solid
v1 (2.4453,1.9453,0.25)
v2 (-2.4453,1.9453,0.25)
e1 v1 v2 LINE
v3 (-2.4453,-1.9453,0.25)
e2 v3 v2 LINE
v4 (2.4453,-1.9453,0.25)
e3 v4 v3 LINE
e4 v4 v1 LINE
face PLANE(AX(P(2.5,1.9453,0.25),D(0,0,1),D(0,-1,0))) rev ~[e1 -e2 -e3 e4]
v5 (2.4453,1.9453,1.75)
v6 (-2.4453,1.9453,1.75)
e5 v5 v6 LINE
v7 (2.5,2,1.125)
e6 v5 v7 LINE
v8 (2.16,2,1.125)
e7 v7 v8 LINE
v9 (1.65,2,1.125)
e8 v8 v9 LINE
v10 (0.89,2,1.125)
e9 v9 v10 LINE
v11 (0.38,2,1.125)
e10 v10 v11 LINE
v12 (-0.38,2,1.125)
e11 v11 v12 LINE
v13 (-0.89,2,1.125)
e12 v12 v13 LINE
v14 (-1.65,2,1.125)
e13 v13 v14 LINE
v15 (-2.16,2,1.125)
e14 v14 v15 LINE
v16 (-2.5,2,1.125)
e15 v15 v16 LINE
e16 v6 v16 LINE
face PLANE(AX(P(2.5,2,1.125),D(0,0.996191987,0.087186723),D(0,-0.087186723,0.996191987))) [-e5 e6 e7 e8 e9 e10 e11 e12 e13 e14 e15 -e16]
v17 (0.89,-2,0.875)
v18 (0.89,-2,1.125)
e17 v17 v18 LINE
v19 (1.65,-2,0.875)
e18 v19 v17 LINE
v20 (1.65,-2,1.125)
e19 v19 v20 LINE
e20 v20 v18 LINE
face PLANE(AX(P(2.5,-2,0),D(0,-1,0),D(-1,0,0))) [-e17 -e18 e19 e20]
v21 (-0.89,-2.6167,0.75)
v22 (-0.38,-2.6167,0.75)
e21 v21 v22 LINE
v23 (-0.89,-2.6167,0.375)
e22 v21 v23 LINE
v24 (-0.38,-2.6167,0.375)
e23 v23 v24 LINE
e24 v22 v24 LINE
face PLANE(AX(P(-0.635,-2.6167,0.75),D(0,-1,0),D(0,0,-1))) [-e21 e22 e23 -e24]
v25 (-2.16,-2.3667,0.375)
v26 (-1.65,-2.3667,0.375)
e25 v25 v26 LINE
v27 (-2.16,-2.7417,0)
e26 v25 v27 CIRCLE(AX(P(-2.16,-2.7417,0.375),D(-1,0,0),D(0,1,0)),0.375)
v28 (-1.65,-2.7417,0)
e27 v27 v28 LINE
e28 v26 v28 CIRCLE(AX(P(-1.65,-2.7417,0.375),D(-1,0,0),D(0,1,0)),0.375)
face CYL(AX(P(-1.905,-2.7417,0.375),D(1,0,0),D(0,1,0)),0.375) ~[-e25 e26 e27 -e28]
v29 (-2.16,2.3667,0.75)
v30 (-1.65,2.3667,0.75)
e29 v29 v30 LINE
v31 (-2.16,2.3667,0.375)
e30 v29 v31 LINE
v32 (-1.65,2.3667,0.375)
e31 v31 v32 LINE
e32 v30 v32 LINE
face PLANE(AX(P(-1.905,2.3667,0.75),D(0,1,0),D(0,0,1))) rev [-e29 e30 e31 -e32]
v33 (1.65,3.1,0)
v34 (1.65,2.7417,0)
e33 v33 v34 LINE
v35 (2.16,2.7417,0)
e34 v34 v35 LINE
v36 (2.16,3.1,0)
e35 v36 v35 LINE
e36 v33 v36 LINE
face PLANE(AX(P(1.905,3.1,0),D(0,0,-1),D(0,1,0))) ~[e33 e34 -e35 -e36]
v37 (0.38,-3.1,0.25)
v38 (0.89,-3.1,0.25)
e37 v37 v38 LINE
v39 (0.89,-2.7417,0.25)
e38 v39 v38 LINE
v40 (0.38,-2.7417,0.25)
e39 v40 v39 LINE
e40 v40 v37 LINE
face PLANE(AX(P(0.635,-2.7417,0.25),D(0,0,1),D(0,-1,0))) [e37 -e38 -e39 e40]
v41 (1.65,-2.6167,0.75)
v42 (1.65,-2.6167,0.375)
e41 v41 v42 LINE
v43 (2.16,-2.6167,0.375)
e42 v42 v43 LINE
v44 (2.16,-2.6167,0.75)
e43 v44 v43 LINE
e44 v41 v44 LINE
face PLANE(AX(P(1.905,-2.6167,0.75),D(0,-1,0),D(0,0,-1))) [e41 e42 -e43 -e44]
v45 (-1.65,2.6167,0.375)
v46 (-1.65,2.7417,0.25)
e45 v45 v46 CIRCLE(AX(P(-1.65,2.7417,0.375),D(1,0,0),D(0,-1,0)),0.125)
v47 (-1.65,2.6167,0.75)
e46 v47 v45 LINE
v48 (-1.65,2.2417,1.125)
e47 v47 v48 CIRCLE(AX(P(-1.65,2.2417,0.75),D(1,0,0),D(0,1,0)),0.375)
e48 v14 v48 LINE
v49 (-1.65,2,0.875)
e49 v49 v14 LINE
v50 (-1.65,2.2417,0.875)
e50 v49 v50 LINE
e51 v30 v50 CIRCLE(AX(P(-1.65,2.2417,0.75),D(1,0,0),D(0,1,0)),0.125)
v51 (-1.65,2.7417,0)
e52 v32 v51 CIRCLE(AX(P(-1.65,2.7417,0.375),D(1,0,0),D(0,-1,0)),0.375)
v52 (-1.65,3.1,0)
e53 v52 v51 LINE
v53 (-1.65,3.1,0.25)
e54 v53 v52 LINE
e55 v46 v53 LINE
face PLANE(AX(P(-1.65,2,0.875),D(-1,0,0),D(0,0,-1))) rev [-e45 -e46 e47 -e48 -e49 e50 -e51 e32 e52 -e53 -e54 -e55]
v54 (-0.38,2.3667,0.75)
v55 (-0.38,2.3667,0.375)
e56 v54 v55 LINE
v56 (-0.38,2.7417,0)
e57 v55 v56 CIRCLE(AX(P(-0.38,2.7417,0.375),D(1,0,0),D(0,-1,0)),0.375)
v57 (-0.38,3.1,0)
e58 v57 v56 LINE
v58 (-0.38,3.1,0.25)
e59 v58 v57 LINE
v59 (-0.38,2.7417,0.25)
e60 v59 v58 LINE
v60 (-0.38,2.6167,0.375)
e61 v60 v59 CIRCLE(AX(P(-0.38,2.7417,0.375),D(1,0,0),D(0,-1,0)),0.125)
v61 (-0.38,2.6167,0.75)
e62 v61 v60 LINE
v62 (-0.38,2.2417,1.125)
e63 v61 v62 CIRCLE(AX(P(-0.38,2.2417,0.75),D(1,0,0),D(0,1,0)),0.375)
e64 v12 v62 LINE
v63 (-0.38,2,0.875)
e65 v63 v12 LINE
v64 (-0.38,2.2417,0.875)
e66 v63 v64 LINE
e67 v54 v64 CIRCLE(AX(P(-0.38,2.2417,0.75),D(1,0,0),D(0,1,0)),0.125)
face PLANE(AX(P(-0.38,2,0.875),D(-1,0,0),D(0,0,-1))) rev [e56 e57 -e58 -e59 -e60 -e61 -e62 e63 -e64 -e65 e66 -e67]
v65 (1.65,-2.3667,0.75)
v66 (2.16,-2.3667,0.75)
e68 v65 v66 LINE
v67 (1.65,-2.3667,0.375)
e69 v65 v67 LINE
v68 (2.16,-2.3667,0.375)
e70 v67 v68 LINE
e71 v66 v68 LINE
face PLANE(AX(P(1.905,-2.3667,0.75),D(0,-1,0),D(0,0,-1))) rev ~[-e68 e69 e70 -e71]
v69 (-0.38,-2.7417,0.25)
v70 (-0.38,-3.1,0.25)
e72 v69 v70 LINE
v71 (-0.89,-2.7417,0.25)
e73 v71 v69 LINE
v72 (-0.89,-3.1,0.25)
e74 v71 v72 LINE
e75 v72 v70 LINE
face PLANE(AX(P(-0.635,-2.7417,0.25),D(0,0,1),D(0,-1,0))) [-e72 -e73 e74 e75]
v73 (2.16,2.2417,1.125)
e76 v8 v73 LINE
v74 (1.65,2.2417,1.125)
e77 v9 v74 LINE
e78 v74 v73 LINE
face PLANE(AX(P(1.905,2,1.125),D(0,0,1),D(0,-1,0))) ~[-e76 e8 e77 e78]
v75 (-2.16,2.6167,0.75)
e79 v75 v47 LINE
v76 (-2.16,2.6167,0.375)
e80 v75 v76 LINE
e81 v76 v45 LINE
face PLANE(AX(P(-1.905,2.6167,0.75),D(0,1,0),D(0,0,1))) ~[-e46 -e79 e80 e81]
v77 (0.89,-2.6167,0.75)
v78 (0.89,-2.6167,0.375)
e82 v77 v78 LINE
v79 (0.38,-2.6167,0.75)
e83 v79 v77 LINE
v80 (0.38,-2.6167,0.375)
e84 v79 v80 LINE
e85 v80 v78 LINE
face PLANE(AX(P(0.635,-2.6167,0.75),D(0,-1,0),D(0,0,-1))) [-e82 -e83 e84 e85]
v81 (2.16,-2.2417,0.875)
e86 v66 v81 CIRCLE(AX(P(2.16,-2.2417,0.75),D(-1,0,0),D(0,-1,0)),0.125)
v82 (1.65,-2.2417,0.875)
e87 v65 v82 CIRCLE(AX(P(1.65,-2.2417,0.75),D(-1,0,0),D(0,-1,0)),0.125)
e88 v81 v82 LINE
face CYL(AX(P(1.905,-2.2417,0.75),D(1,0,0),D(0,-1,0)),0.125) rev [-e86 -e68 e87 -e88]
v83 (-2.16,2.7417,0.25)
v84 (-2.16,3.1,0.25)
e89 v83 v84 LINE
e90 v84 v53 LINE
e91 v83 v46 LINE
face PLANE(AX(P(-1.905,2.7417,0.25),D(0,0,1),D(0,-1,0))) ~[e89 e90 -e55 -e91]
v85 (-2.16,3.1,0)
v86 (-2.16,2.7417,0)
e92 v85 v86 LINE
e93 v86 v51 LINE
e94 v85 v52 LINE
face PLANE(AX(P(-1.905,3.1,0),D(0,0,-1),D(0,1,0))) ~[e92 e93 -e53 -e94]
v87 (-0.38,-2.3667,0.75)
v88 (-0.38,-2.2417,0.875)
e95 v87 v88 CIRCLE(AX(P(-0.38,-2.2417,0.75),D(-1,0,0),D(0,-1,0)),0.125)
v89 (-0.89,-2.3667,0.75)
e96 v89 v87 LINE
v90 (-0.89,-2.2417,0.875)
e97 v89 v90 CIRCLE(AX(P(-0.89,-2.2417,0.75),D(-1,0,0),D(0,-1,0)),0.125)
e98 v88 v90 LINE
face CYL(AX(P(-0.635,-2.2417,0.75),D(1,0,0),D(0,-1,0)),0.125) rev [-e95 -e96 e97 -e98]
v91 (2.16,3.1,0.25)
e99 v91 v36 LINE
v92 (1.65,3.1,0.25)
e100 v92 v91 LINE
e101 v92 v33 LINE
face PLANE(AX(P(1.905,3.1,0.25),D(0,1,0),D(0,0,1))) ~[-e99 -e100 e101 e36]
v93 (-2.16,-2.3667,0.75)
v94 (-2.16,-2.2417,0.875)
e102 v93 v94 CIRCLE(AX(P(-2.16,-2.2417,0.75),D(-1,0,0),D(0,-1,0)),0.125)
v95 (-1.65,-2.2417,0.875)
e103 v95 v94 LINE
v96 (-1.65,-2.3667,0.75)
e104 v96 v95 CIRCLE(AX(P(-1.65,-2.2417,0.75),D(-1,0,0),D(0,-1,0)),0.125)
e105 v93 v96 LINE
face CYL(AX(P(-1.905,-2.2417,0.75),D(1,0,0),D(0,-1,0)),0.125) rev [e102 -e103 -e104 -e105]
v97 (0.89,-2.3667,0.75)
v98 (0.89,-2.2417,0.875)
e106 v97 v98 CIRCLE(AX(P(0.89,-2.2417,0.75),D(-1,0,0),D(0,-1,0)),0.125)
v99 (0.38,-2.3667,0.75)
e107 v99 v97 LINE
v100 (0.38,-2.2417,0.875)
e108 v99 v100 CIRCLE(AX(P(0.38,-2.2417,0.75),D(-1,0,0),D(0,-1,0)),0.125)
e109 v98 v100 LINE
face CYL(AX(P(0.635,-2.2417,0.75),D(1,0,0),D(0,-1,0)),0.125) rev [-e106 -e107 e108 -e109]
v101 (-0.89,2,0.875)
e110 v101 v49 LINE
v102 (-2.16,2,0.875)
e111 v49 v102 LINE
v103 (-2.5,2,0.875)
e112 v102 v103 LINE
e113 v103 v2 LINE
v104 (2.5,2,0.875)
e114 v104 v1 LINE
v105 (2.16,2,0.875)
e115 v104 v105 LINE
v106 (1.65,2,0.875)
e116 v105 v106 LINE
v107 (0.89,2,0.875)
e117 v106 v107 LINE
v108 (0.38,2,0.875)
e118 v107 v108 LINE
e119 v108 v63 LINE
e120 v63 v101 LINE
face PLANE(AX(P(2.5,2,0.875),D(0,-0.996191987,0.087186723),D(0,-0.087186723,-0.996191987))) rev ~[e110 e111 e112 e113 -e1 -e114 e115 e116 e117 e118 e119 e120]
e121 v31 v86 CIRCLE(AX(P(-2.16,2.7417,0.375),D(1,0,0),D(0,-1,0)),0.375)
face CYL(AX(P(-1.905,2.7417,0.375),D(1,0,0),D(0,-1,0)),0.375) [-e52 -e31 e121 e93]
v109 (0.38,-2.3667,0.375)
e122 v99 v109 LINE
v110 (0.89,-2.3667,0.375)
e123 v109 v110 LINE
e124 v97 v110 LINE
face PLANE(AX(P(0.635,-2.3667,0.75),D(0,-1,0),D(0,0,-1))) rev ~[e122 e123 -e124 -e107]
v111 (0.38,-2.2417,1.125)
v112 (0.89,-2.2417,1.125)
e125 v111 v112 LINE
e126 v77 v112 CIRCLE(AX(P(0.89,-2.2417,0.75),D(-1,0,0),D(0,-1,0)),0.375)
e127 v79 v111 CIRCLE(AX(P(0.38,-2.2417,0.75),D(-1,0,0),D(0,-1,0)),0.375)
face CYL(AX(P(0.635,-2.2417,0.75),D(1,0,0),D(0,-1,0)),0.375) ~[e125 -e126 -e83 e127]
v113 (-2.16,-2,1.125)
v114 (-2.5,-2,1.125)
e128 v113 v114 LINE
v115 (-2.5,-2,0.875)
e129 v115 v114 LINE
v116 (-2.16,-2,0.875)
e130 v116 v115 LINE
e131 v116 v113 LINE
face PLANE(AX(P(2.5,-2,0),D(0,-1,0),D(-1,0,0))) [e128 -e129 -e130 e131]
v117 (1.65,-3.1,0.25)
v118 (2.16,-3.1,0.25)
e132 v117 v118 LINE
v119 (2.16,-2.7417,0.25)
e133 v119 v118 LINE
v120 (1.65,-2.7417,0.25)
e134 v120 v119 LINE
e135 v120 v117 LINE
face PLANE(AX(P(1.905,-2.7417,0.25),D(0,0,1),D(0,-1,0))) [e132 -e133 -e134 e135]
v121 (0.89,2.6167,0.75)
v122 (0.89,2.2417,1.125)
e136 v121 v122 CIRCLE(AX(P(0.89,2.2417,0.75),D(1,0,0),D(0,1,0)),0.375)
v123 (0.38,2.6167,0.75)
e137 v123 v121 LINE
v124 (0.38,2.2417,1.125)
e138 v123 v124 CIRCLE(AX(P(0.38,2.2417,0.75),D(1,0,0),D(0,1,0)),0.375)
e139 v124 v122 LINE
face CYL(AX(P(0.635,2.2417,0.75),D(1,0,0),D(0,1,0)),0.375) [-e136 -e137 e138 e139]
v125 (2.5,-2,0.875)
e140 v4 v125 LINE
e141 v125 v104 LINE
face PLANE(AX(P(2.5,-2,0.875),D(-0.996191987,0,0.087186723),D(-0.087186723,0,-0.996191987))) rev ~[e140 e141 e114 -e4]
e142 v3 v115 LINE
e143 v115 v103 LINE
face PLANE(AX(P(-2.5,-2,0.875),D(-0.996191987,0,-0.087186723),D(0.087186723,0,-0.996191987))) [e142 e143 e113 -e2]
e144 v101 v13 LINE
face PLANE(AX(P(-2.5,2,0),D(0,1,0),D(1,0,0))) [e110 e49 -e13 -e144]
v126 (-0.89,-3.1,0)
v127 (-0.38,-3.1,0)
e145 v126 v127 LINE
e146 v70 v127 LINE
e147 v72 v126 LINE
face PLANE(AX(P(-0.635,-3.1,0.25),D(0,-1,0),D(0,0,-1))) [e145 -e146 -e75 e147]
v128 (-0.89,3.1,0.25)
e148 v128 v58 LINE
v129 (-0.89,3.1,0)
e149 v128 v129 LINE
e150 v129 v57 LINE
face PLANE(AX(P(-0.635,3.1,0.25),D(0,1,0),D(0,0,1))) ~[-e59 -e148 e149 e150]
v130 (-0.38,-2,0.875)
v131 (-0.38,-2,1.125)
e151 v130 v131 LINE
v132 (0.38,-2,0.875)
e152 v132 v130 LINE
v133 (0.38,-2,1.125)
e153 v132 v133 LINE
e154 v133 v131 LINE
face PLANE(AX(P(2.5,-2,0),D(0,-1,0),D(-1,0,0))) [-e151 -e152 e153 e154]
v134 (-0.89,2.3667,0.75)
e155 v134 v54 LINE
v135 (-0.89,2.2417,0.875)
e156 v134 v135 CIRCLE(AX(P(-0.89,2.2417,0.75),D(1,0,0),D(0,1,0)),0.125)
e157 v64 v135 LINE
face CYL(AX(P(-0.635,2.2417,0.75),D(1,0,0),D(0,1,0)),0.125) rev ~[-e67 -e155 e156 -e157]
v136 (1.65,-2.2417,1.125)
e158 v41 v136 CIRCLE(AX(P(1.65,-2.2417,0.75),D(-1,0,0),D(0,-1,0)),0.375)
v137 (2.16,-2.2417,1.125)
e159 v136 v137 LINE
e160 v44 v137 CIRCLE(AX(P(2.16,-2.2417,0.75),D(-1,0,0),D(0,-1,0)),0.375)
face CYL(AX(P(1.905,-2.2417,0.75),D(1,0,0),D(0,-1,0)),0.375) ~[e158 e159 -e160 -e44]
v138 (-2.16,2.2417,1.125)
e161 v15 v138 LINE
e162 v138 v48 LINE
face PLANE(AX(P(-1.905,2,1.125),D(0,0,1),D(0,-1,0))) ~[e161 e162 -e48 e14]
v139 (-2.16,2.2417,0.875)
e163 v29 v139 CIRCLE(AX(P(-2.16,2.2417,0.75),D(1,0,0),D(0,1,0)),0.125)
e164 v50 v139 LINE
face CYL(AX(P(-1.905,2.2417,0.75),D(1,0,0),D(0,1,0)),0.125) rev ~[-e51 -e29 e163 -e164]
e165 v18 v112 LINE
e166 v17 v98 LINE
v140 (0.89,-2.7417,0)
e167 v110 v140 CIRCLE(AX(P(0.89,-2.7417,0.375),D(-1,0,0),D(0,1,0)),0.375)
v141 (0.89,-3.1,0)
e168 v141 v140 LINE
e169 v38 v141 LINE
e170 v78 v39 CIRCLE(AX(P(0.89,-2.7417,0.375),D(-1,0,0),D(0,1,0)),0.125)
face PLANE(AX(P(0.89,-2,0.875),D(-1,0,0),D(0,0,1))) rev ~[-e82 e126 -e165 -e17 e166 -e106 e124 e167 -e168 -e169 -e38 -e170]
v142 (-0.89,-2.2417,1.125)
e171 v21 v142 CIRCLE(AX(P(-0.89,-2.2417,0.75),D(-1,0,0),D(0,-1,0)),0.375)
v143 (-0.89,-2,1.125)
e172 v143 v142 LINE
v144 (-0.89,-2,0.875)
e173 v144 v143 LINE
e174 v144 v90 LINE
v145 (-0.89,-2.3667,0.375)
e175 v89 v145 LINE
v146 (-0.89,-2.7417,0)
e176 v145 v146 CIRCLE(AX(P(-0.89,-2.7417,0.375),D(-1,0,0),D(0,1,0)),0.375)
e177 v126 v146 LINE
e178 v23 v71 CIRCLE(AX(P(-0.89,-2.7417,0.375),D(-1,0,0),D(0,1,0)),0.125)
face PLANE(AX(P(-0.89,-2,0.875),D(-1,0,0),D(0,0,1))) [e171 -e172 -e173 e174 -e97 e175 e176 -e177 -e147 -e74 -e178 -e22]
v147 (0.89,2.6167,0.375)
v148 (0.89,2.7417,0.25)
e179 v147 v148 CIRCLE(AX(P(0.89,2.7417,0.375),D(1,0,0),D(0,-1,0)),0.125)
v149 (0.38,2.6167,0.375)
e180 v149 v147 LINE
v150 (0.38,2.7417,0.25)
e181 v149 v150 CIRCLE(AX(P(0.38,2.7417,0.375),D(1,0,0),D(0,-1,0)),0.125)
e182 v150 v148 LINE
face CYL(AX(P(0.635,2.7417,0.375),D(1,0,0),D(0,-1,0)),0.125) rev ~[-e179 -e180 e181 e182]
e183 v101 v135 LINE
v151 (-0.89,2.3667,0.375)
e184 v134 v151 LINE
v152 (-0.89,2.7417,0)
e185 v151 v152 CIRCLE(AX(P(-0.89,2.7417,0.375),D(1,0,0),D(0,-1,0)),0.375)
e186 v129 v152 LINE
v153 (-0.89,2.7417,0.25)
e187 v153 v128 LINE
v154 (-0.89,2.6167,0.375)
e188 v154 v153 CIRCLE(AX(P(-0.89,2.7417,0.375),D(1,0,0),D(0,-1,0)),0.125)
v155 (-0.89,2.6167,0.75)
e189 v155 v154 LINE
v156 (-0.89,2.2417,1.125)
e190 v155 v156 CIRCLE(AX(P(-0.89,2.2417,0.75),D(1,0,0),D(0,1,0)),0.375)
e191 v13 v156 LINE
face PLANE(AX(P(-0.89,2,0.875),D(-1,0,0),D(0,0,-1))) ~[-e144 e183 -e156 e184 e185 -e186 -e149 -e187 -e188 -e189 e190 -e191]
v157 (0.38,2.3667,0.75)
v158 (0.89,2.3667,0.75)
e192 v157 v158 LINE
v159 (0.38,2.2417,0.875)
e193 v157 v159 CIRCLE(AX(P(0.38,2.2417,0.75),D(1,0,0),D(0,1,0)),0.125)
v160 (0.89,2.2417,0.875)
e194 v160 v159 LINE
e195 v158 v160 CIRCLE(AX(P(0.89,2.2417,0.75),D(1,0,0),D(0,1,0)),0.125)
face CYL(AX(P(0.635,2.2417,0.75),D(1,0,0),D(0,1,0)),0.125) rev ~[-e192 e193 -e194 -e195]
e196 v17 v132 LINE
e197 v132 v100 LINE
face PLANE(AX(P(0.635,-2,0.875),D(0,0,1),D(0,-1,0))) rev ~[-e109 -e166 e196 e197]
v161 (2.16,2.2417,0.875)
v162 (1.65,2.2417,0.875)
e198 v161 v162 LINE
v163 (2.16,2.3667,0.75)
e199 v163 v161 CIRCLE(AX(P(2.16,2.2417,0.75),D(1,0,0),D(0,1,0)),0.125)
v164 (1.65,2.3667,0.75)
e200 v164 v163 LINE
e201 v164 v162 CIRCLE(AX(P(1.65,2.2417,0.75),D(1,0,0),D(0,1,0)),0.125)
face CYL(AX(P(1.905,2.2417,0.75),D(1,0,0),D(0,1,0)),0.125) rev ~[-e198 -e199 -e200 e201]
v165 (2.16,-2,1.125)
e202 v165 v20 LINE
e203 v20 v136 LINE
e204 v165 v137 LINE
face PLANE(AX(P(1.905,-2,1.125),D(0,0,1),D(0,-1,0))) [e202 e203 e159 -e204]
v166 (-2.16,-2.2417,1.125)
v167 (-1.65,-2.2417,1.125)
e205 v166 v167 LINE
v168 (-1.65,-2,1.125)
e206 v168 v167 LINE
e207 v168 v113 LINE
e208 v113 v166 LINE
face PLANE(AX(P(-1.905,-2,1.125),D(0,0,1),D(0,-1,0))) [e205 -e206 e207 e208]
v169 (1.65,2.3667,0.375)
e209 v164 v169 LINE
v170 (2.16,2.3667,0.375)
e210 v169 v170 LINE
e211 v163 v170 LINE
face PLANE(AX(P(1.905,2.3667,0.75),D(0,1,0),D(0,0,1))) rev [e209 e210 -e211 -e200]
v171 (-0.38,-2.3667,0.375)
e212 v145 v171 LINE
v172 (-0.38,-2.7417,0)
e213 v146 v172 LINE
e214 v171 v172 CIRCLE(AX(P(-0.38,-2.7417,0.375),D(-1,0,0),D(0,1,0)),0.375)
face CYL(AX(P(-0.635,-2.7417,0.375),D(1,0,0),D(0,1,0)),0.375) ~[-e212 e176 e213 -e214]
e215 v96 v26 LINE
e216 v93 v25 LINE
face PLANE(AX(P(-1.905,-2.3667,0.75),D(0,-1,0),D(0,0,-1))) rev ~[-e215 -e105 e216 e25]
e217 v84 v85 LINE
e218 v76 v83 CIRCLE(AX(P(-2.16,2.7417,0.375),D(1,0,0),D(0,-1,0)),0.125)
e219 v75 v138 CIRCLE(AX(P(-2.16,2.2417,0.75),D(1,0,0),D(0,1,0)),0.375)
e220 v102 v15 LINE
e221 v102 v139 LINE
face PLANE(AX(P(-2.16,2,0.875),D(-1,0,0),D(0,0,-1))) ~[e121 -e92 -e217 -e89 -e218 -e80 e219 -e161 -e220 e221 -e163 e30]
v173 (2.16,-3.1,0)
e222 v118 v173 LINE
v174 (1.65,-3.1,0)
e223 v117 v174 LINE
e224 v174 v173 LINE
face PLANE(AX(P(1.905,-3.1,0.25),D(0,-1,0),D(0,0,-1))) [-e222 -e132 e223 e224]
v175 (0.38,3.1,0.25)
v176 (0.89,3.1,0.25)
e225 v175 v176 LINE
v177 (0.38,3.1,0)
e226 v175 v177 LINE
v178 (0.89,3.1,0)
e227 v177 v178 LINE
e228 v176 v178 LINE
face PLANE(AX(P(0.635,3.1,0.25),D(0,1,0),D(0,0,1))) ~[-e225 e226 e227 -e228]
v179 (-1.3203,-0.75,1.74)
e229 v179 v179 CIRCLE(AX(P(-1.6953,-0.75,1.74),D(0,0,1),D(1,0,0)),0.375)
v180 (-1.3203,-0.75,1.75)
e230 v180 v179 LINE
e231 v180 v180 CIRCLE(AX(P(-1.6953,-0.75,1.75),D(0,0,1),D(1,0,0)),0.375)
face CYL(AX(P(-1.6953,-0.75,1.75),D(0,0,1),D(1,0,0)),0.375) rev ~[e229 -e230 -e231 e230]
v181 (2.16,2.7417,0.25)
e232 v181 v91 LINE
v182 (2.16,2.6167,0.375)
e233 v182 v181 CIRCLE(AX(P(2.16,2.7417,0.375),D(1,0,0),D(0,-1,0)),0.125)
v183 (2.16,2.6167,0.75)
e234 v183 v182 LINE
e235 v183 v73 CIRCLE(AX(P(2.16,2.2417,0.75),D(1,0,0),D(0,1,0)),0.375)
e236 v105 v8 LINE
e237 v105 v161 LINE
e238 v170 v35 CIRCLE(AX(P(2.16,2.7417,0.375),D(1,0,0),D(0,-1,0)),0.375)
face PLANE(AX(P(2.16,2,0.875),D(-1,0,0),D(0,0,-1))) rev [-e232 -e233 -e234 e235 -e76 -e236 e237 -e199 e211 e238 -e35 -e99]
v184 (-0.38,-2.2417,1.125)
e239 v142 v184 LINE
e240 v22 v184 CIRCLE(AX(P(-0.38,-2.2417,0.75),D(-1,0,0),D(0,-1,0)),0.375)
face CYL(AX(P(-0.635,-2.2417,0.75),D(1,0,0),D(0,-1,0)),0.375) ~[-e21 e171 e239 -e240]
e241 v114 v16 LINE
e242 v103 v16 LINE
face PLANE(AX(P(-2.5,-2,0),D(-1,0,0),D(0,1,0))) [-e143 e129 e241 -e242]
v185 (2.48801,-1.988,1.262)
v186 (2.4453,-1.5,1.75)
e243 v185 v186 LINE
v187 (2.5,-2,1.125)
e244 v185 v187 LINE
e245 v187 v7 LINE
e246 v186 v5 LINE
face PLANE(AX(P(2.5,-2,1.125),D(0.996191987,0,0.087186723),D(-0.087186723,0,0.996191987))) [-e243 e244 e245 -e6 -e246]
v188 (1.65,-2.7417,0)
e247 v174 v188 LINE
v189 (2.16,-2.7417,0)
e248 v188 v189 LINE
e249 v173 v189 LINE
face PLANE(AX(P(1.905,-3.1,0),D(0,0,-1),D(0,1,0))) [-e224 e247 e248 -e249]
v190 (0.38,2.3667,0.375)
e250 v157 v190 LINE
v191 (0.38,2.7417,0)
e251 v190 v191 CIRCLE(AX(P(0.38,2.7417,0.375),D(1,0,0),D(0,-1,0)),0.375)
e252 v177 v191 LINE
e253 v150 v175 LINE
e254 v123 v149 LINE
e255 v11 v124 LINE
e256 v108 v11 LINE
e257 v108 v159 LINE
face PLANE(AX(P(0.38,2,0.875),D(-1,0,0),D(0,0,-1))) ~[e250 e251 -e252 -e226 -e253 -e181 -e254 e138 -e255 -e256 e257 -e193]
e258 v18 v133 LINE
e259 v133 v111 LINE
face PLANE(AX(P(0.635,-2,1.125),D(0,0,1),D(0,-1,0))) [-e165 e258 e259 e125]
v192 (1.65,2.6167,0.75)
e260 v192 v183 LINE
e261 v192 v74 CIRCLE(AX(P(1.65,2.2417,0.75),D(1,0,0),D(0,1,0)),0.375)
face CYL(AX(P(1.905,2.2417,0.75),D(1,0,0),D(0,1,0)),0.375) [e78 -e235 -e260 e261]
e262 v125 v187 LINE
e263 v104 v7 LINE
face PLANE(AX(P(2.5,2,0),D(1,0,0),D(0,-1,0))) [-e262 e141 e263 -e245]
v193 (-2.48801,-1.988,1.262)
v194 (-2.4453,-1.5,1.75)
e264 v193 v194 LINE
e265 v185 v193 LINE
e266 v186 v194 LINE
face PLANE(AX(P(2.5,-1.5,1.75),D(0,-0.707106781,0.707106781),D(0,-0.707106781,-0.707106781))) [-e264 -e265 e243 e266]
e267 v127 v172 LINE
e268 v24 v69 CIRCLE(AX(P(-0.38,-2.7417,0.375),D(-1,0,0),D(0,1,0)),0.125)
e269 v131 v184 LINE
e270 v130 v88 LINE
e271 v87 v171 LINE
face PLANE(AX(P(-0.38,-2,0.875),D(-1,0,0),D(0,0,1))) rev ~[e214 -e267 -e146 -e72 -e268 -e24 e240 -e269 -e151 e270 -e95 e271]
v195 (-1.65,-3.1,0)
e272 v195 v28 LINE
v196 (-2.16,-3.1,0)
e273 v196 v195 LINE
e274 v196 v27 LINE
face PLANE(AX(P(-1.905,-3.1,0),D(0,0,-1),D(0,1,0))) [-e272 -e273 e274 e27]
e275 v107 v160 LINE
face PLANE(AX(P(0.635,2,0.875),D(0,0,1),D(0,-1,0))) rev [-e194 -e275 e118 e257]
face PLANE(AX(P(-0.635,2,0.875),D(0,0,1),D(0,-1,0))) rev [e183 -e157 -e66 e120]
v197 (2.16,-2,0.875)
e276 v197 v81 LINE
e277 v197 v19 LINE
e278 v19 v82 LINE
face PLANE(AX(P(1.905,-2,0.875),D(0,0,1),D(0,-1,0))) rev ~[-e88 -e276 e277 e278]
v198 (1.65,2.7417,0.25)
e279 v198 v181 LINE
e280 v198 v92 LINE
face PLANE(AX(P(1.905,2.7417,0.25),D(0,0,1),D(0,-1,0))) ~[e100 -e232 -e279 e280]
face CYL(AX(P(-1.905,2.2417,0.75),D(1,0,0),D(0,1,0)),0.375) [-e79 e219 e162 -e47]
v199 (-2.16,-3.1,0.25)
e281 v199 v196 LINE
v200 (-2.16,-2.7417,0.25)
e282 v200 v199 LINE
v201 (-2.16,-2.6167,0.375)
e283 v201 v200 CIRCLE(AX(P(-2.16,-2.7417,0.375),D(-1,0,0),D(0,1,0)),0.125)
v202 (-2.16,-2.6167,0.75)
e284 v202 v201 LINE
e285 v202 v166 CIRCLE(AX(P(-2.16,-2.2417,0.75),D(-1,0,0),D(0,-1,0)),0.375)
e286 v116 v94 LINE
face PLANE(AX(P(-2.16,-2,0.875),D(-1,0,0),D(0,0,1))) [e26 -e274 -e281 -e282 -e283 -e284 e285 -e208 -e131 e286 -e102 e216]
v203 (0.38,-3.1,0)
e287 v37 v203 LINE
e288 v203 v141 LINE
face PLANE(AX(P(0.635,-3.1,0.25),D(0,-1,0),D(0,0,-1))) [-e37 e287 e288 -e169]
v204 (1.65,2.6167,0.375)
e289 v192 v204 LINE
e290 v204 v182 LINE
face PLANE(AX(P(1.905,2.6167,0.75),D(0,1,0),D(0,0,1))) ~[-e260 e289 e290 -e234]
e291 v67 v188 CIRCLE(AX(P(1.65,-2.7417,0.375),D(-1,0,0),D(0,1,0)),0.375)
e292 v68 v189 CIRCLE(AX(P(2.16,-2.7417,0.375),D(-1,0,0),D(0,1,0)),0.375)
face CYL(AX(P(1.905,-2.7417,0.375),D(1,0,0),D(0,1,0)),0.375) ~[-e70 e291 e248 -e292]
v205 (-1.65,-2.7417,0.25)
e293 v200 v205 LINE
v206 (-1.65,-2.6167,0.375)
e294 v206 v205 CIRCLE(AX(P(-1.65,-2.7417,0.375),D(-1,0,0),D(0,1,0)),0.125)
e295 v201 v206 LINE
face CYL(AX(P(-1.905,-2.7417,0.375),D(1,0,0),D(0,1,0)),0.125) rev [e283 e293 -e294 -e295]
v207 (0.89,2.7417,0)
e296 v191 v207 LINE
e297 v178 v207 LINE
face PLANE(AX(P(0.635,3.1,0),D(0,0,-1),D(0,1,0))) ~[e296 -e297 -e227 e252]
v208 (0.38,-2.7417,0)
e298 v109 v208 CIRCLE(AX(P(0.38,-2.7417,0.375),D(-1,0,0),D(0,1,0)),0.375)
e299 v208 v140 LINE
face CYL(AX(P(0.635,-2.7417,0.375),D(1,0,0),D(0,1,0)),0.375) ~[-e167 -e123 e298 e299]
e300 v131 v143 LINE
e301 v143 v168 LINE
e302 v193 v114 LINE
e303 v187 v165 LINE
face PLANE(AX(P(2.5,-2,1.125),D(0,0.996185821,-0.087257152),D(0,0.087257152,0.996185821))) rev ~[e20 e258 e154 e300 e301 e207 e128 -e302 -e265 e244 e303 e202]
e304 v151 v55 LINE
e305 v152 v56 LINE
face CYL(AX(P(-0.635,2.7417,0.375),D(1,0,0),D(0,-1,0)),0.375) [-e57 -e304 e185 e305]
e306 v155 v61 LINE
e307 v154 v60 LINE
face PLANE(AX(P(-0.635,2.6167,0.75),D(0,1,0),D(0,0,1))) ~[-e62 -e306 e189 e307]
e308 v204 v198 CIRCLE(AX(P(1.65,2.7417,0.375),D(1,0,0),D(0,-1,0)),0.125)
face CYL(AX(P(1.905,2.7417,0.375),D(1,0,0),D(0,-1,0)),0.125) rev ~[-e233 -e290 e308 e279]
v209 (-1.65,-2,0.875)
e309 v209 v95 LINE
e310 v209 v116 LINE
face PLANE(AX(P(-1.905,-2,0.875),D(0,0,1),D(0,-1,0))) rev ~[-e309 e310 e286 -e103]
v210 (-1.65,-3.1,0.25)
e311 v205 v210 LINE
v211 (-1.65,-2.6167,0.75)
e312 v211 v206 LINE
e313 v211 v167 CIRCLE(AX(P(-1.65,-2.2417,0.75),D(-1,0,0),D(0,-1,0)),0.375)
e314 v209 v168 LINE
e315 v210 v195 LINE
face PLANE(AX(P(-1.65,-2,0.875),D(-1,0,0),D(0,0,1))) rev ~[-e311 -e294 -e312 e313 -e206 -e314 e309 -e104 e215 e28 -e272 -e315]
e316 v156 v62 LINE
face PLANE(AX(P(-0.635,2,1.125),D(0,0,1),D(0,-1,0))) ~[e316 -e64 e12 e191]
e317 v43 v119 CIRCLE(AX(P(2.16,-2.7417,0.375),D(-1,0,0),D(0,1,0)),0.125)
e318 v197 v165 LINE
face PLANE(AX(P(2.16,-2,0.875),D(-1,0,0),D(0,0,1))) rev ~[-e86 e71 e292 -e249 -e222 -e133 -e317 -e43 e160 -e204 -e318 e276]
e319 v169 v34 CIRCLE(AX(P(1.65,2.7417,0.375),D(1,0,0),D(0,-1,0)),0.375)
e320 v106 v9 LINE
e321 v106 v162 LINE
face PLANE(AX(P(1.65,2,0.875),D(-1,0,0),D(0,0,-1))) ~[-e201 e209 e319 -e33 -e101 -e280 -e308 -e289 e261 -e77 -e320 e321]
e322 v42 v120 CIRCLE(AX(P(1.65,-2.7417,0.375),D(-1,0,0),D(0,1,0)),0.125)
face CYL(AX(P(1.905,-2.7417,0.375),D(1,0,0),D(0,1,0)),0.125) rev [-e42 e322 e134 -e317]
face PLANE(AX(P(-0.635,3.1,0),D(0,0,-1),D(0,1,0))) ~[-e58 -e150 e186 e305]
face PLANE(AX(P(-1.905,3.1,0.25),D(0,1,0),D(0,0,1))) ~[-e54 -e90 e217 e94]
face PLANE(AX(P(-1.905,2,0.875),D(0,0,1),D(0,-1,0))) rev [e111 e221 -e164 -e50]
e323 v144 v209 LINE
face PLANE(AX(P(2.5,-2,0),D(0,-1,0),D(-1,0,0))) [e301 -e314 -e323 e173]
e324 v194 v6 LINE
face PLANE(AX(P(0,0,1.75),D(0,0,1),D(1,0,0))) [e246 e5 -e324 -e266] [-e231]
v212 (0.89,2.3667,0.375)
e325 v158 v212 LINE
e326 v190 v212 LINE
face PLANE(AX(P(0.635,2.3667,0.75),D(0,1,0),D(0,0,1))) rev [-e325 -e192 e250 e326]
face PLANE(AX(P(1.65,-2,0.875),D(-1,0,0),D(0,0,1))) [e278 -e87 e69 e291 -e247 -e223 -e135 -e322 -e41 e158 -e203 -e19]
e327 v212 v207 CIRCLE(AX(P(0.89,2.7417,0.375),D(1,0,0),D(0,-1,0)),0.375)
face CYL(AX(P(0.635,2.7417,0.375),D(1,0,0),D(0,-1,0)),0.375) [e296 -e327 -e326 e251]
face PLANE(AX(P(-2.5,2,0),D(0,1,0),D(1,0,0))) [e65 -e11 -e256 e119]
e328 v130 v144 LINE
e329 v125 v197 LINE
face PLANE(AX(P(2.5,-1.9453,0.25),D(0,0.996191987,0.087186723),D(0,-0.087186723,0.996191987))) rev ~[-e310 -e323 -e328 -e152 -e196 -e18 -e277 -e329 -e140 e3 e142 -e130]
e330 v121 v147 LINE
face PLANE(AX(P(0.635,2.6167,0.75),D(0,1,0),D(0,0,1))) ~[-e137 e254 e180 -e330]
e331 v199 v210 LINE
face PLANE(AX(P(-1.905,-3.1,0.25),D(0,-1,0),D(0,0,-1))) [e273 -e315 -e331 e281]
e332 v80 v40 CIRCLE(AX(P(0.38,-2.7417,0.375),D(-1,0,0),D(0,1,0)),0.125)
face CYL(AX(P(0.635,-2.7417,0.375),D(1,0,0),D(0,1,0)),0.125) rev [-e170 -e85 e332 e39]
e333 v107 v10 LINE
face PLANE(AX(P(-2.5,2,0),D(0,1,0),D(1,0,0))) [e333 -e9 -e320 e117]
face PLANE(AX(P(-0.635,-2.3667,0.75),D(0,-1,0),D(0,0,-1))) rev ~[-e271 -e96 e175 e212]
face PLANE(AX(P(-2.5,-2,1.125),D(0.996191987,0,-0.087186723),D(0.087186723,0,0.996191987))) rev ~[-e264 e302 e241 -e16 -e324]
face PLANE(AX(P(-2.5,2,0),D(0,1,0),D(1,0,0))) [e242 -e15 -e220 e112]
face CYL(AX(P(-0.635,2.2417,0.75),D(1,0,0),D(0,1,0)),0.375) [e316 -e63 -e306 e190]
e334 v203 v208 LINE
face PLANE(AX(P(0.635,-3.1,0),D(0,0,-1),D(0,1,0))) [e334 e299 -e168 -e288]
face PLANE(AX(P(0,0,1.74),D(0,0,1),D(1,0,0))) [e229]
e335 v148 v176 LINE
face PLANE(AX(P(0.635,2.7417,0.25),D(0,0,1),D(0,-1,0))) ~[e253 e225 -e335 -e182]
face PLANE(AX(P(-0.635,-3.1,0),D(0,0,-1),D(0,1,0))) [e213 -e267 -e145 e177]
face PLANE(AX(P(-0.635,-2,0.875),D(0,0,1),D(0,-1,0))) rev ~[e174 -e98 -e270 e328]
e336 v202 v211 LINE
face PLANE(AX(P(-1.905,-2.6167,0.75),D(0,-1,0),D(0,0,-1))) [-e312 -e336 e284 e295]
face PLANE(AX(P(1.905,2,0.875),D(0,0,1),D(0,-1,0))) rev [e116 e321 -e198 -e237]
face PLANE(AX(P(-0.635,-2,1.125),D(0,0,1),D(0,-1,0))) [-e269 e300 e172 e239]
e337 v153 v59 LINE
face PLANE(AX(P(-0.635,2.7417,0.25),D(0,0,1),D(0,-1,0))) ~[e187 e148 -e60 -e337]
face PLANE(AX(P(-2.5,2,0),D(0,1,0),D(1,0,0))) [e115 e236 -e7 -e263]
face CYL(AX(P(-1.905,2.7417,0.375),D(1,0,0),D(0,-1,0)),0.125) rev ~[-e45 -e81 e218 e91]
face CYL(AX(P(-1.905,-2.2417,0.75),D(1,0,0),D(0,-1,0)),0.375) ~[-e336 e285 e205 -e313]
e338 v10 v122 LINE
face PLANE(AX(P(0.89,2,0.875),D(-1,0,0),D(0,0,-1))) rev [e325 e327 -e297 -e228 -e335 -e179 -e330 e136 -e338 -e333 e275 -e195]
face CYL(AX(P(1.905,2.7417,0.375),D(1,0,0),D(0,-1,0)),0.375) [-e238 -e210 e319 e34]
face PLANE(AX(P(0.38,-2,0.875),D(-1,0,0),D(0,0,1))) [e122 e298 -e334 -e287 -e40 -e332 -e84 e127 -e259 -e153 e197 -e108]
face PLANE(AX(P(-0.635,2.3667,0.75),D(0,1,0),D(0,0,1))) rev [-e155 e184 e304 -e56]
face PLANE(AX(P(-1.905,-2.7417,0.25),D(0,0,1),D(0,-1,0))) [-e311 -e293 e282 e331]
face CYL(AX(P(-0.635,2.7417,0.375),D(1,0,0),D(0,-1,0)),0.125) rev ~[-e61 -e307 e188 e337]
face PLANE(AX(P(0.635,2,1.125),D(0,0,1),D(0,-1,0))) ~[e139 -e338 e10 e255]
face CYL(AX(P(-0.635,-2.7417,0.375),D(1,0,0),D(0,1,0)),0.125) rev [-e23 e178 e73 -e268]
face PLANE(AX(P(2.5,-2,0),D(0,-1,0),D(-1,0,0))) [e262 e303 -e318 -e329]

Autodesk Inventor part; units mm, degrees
ref_plane "YZ Plane" through (0, 0, 0) normal (1, 0, 0) x (0, 1, 0)
sketch "Эскиз1" plane through (0, 0, 0) normal (0, 0, 1) x (1, 0, 0)
  line L0 (-2.5, 2) -> (2.5, 2)
  line L1 (2.5, 2) -> (2.5, -2)
  line L2 (2.5, -2) -> (-2.5, -2)
  line L3 (-2.5, -2) -> (-2.5, 2)
  point P0 (0, 0)
  dimension "d0" = 2.5
  dimension "d1" = 2
  dimension "d2" = 5
  dimension "d3" = 4
extrude "Выдавливание1" add sketch "Эскиз1" along normal blind 1.75
sketch "Эскиз4" plane through (2.5, -2, 0) normal (1, 0, 0) x (0, 0, -1)
  line L0 (-1.75, 4) -> (-1.75, 0) projected
  line L1 (0, 0) -> (-1.75, 0) projected
  line L2 (0, 4) -> (0, 0) projected
  line L3 (0, 4) -> (-1.75, 4) projected
  line L4 (-1.125, 0) -> (-1.125, 4)
  line L5 (-0.875, 0) -> (-0.875, 4)
  line L6 (-1.125, 0) -> (-1.262, 0.012)
  line L7 (-1.125, 4) -> (-1.75, 3.9453)
  line L8 (-0.25, 3.9453) -> (-0.25, 0.0547)
  line L9 (-0.25, 0.0547) -> (-0.875, 0)
  line L10 (-0.875, 4) -> (-0.25, 3.9453)
  line L11 (-1.75, 0.5) -> (-1.262, 0.012)
  point P0 (0, 2)
  dimension "d18" = 0.625
  dimension "d19" = 0.25
  dimension "d20" = 0.25
  dimension "d21" = 0.625
  dimension "d22" = 5
  dimension "d23" = 5
  dimension "d24" = 45
  dimension "d25" = 0.5
extrude "Выдавливание4" cut sketch "Эскиз4" against normal through all contours L3 L7 L0 | L11 L6 L1 L0 | L3 L2 L1 L9 L8 L10
sketch "Эскиз5" plane through (-2.5, -2, 0.875) normal (0, -1, 0) x (1, 0, 0)
  line L0 (5, 0) -> (5, 0.25) projected
  line L1 (0, 0.387) -> (0, 0.875) projected
  line L2 (5, 0.387) -> (0, 0.387) projected
  line L3 (5, 0.875) -> (5, 0.387) projected
  line L4 (0, 0.875) -> (5, 0.875) projected
  line L5 (0, 0.25) -> (0, 0.387) projected
  line L6 (5, 0.25) -> (0, 0.25) projected
  line L7 (5, 0.387) -> (5, 0.25) projected
  line L8 (5, 0.387) -> (0, 0.387) projected
  line L9 (0, -0.625) -> (0, 0) projected
  line L10 (5, -0.625) -> (0, -0.625) projected
  line L11 (5, 0) -> (5, -0.625) projected
  line L12 (0, 0) -> (5, 0) projected
  line L13 (0, 0.25) -> (0.0547, 0.875)
  line L14 (5, 0.25) -> (4.9453, 0.875)
  line L15 (5, 0) -> (4.9453, -0.625)
  line L16 (0, 0) -> (0.0547, -0.625)
  line L17 (4.9453, 0.875) -> (5, 0.875)
  line L18 (5, 0.875) -> (5, 0.25)
  line L19 (0.0547, 0.875) -> (0, 0.875)
  line L20 (0, 0.875) -> (0, 0.25)
  point P0 (2.5, -0.875)
  dimension "d28" = 5
  dimension "d29" = 5
extrude "Выдавливание5" cut sketch "Эскиз5" against normal through all contours L14 L2 L7 | L11 L10 L15 | L16 L10 L9 | L5 L2 L13 | L2 L14 L4 L3 | L1 L4 L13 L2
ref_plane "РабПлоскость1" through (-1.905, -2, 0.875) normal (-1, 0, 0) x (0, 0, 1)
sketch "Эскиз6" plane through (-1.905, -2, 0.875) normal (-1, 0, 0) x (0, 0, 1)
  line L0 (0.875, 0.5) -> (0.387, 0.012) projected
  line L1 (0.875, 3.9453) -> (0.875, 0.5) projected
  line L2 (0.25, 4) -> (0.875, 3.9453) projected
  line L3 (0.25, 0) -> (0.25, 4) projected
  line L4 (0.387, 0.012) -> (0.25, 0) projected
  line L5 (0, 4) -> (0, 0) projected
  line L6 (0, 0) -> (0.25, 0) projected
  line L7 (0.25, 0) -> (0.25, 4) projected
  line L8 (0, 4) -> (0.25, 4) projected
  line L9 (-0.625, 3.9453) -> (0, 4) projected
  line L10 (-0.625, 0.0547) -> (-0.625, 3.9453) projected
  line L11 (0, 0) -> (-0.625, 0.0547) projected
  line L12 (0, 4) -> (0, 0) projected
  line L13 (-0.875, 2) -> (1.3511, 2) construction
  line L14 (0.25, 0) -> (0.25, -0.2417)
  line L15 (0, 0) -> (0, -0.2417)
  line L16 (0.25, 0) -> (0, 0)
  line L17 (-0.625, -1.1) -> (-0.875, -1.1)
  line L18 (-0.875, -1.1) -> (-0.875, -0.7417)
  line L19 (-0.625, -0.7417) -> (-0.625, -1.1)
  line L20 (-0.125, -0.3667) -> (-0.5, -0.3667)
  line L21 (-0.125, -0.6167) -> (-0.5, -0.6167)
  arc A0 (-0.125, -0.3667) -> (0, -0.2417) centre (-0.125, -0.2417) ccw
  arc A1 (-0.5, -0.6167) -> (-0.625, -0.7417) centre (-0.5, -0.7417) ccw
  arc A2 (-0.125, -0.6167) -> (0.25, -0.2417) centre (-0.125, -0.2417) ccw
  arc A3 (-0.5, -0.3667) -> (-0.875, -0.7417) centre (-0.5, -0.7417) ccw
  dimension "d42" = 0.25
  dimension "d43" = 3.1
  dimension "d44" = 0.25
  dimension "d45" = 0.25
  dimension "d46" = 1.1
  dimension "d47" = 0.7333
  dimension "d48" = 0.25
  dimension "d49" = 0.25
  dimension "d50" = 0.25
extrude "Выдавливание6" add sketch "Эскиз6" along normal mid plane 0.51 contours L14 A2 L21 A1 L19 L17 L18 A3 L20 A0 L15 L6
ref_plane "РабПлоскость2" through (2.5, 0, 0.875) normal (0, -1, 0) x (1, 0, 0)
mirror "Зеркальное отражение1" about plane through (2.5, 0, 0.875) normal (0, -1, 0) of "Выдавливание6"
pattern_linear "Прямоуг.массив1" count 4 spacing 1.27 along (1, 0, 0) of "Выдавливание6", "Зеркальное отражение1"
sketch "Эскиз7" plane through (0, 0, 1.75) normal (0, 0, 1) x (1, 0, 0)
  line L0 (-2.4453, 1.9453) -> (-2.4453, -1.5) projected
  line L1 (-2.4453, -1.5) -> (2.4453, -1.5) projected
  circle A0 centre (-1.6953, -0.75) radius 0.375
  point P0 (0, 0)
  dimension "d57" = 0.75
  dimension "d58" = 0.75
  dimension "d59" = 0.75
extrude "Выдавливание7" cut sketch "Эскиз7" against normal blind 0.01
equation "\"d0\" = 0.5 * d2"
equation "\"d1\" = 0.5 * d3"
equation "\"d18\" = d21"
equation "\"d45\" = d42"
equation "\"d47\" = 0.666667 * d46"
equation "\"d48\" = d44"
equation "\"d49\" = d44"
equation "\"d50\" = d51"
equation "\"d51\" = 0.25"
properties part number "SOIC-08"
